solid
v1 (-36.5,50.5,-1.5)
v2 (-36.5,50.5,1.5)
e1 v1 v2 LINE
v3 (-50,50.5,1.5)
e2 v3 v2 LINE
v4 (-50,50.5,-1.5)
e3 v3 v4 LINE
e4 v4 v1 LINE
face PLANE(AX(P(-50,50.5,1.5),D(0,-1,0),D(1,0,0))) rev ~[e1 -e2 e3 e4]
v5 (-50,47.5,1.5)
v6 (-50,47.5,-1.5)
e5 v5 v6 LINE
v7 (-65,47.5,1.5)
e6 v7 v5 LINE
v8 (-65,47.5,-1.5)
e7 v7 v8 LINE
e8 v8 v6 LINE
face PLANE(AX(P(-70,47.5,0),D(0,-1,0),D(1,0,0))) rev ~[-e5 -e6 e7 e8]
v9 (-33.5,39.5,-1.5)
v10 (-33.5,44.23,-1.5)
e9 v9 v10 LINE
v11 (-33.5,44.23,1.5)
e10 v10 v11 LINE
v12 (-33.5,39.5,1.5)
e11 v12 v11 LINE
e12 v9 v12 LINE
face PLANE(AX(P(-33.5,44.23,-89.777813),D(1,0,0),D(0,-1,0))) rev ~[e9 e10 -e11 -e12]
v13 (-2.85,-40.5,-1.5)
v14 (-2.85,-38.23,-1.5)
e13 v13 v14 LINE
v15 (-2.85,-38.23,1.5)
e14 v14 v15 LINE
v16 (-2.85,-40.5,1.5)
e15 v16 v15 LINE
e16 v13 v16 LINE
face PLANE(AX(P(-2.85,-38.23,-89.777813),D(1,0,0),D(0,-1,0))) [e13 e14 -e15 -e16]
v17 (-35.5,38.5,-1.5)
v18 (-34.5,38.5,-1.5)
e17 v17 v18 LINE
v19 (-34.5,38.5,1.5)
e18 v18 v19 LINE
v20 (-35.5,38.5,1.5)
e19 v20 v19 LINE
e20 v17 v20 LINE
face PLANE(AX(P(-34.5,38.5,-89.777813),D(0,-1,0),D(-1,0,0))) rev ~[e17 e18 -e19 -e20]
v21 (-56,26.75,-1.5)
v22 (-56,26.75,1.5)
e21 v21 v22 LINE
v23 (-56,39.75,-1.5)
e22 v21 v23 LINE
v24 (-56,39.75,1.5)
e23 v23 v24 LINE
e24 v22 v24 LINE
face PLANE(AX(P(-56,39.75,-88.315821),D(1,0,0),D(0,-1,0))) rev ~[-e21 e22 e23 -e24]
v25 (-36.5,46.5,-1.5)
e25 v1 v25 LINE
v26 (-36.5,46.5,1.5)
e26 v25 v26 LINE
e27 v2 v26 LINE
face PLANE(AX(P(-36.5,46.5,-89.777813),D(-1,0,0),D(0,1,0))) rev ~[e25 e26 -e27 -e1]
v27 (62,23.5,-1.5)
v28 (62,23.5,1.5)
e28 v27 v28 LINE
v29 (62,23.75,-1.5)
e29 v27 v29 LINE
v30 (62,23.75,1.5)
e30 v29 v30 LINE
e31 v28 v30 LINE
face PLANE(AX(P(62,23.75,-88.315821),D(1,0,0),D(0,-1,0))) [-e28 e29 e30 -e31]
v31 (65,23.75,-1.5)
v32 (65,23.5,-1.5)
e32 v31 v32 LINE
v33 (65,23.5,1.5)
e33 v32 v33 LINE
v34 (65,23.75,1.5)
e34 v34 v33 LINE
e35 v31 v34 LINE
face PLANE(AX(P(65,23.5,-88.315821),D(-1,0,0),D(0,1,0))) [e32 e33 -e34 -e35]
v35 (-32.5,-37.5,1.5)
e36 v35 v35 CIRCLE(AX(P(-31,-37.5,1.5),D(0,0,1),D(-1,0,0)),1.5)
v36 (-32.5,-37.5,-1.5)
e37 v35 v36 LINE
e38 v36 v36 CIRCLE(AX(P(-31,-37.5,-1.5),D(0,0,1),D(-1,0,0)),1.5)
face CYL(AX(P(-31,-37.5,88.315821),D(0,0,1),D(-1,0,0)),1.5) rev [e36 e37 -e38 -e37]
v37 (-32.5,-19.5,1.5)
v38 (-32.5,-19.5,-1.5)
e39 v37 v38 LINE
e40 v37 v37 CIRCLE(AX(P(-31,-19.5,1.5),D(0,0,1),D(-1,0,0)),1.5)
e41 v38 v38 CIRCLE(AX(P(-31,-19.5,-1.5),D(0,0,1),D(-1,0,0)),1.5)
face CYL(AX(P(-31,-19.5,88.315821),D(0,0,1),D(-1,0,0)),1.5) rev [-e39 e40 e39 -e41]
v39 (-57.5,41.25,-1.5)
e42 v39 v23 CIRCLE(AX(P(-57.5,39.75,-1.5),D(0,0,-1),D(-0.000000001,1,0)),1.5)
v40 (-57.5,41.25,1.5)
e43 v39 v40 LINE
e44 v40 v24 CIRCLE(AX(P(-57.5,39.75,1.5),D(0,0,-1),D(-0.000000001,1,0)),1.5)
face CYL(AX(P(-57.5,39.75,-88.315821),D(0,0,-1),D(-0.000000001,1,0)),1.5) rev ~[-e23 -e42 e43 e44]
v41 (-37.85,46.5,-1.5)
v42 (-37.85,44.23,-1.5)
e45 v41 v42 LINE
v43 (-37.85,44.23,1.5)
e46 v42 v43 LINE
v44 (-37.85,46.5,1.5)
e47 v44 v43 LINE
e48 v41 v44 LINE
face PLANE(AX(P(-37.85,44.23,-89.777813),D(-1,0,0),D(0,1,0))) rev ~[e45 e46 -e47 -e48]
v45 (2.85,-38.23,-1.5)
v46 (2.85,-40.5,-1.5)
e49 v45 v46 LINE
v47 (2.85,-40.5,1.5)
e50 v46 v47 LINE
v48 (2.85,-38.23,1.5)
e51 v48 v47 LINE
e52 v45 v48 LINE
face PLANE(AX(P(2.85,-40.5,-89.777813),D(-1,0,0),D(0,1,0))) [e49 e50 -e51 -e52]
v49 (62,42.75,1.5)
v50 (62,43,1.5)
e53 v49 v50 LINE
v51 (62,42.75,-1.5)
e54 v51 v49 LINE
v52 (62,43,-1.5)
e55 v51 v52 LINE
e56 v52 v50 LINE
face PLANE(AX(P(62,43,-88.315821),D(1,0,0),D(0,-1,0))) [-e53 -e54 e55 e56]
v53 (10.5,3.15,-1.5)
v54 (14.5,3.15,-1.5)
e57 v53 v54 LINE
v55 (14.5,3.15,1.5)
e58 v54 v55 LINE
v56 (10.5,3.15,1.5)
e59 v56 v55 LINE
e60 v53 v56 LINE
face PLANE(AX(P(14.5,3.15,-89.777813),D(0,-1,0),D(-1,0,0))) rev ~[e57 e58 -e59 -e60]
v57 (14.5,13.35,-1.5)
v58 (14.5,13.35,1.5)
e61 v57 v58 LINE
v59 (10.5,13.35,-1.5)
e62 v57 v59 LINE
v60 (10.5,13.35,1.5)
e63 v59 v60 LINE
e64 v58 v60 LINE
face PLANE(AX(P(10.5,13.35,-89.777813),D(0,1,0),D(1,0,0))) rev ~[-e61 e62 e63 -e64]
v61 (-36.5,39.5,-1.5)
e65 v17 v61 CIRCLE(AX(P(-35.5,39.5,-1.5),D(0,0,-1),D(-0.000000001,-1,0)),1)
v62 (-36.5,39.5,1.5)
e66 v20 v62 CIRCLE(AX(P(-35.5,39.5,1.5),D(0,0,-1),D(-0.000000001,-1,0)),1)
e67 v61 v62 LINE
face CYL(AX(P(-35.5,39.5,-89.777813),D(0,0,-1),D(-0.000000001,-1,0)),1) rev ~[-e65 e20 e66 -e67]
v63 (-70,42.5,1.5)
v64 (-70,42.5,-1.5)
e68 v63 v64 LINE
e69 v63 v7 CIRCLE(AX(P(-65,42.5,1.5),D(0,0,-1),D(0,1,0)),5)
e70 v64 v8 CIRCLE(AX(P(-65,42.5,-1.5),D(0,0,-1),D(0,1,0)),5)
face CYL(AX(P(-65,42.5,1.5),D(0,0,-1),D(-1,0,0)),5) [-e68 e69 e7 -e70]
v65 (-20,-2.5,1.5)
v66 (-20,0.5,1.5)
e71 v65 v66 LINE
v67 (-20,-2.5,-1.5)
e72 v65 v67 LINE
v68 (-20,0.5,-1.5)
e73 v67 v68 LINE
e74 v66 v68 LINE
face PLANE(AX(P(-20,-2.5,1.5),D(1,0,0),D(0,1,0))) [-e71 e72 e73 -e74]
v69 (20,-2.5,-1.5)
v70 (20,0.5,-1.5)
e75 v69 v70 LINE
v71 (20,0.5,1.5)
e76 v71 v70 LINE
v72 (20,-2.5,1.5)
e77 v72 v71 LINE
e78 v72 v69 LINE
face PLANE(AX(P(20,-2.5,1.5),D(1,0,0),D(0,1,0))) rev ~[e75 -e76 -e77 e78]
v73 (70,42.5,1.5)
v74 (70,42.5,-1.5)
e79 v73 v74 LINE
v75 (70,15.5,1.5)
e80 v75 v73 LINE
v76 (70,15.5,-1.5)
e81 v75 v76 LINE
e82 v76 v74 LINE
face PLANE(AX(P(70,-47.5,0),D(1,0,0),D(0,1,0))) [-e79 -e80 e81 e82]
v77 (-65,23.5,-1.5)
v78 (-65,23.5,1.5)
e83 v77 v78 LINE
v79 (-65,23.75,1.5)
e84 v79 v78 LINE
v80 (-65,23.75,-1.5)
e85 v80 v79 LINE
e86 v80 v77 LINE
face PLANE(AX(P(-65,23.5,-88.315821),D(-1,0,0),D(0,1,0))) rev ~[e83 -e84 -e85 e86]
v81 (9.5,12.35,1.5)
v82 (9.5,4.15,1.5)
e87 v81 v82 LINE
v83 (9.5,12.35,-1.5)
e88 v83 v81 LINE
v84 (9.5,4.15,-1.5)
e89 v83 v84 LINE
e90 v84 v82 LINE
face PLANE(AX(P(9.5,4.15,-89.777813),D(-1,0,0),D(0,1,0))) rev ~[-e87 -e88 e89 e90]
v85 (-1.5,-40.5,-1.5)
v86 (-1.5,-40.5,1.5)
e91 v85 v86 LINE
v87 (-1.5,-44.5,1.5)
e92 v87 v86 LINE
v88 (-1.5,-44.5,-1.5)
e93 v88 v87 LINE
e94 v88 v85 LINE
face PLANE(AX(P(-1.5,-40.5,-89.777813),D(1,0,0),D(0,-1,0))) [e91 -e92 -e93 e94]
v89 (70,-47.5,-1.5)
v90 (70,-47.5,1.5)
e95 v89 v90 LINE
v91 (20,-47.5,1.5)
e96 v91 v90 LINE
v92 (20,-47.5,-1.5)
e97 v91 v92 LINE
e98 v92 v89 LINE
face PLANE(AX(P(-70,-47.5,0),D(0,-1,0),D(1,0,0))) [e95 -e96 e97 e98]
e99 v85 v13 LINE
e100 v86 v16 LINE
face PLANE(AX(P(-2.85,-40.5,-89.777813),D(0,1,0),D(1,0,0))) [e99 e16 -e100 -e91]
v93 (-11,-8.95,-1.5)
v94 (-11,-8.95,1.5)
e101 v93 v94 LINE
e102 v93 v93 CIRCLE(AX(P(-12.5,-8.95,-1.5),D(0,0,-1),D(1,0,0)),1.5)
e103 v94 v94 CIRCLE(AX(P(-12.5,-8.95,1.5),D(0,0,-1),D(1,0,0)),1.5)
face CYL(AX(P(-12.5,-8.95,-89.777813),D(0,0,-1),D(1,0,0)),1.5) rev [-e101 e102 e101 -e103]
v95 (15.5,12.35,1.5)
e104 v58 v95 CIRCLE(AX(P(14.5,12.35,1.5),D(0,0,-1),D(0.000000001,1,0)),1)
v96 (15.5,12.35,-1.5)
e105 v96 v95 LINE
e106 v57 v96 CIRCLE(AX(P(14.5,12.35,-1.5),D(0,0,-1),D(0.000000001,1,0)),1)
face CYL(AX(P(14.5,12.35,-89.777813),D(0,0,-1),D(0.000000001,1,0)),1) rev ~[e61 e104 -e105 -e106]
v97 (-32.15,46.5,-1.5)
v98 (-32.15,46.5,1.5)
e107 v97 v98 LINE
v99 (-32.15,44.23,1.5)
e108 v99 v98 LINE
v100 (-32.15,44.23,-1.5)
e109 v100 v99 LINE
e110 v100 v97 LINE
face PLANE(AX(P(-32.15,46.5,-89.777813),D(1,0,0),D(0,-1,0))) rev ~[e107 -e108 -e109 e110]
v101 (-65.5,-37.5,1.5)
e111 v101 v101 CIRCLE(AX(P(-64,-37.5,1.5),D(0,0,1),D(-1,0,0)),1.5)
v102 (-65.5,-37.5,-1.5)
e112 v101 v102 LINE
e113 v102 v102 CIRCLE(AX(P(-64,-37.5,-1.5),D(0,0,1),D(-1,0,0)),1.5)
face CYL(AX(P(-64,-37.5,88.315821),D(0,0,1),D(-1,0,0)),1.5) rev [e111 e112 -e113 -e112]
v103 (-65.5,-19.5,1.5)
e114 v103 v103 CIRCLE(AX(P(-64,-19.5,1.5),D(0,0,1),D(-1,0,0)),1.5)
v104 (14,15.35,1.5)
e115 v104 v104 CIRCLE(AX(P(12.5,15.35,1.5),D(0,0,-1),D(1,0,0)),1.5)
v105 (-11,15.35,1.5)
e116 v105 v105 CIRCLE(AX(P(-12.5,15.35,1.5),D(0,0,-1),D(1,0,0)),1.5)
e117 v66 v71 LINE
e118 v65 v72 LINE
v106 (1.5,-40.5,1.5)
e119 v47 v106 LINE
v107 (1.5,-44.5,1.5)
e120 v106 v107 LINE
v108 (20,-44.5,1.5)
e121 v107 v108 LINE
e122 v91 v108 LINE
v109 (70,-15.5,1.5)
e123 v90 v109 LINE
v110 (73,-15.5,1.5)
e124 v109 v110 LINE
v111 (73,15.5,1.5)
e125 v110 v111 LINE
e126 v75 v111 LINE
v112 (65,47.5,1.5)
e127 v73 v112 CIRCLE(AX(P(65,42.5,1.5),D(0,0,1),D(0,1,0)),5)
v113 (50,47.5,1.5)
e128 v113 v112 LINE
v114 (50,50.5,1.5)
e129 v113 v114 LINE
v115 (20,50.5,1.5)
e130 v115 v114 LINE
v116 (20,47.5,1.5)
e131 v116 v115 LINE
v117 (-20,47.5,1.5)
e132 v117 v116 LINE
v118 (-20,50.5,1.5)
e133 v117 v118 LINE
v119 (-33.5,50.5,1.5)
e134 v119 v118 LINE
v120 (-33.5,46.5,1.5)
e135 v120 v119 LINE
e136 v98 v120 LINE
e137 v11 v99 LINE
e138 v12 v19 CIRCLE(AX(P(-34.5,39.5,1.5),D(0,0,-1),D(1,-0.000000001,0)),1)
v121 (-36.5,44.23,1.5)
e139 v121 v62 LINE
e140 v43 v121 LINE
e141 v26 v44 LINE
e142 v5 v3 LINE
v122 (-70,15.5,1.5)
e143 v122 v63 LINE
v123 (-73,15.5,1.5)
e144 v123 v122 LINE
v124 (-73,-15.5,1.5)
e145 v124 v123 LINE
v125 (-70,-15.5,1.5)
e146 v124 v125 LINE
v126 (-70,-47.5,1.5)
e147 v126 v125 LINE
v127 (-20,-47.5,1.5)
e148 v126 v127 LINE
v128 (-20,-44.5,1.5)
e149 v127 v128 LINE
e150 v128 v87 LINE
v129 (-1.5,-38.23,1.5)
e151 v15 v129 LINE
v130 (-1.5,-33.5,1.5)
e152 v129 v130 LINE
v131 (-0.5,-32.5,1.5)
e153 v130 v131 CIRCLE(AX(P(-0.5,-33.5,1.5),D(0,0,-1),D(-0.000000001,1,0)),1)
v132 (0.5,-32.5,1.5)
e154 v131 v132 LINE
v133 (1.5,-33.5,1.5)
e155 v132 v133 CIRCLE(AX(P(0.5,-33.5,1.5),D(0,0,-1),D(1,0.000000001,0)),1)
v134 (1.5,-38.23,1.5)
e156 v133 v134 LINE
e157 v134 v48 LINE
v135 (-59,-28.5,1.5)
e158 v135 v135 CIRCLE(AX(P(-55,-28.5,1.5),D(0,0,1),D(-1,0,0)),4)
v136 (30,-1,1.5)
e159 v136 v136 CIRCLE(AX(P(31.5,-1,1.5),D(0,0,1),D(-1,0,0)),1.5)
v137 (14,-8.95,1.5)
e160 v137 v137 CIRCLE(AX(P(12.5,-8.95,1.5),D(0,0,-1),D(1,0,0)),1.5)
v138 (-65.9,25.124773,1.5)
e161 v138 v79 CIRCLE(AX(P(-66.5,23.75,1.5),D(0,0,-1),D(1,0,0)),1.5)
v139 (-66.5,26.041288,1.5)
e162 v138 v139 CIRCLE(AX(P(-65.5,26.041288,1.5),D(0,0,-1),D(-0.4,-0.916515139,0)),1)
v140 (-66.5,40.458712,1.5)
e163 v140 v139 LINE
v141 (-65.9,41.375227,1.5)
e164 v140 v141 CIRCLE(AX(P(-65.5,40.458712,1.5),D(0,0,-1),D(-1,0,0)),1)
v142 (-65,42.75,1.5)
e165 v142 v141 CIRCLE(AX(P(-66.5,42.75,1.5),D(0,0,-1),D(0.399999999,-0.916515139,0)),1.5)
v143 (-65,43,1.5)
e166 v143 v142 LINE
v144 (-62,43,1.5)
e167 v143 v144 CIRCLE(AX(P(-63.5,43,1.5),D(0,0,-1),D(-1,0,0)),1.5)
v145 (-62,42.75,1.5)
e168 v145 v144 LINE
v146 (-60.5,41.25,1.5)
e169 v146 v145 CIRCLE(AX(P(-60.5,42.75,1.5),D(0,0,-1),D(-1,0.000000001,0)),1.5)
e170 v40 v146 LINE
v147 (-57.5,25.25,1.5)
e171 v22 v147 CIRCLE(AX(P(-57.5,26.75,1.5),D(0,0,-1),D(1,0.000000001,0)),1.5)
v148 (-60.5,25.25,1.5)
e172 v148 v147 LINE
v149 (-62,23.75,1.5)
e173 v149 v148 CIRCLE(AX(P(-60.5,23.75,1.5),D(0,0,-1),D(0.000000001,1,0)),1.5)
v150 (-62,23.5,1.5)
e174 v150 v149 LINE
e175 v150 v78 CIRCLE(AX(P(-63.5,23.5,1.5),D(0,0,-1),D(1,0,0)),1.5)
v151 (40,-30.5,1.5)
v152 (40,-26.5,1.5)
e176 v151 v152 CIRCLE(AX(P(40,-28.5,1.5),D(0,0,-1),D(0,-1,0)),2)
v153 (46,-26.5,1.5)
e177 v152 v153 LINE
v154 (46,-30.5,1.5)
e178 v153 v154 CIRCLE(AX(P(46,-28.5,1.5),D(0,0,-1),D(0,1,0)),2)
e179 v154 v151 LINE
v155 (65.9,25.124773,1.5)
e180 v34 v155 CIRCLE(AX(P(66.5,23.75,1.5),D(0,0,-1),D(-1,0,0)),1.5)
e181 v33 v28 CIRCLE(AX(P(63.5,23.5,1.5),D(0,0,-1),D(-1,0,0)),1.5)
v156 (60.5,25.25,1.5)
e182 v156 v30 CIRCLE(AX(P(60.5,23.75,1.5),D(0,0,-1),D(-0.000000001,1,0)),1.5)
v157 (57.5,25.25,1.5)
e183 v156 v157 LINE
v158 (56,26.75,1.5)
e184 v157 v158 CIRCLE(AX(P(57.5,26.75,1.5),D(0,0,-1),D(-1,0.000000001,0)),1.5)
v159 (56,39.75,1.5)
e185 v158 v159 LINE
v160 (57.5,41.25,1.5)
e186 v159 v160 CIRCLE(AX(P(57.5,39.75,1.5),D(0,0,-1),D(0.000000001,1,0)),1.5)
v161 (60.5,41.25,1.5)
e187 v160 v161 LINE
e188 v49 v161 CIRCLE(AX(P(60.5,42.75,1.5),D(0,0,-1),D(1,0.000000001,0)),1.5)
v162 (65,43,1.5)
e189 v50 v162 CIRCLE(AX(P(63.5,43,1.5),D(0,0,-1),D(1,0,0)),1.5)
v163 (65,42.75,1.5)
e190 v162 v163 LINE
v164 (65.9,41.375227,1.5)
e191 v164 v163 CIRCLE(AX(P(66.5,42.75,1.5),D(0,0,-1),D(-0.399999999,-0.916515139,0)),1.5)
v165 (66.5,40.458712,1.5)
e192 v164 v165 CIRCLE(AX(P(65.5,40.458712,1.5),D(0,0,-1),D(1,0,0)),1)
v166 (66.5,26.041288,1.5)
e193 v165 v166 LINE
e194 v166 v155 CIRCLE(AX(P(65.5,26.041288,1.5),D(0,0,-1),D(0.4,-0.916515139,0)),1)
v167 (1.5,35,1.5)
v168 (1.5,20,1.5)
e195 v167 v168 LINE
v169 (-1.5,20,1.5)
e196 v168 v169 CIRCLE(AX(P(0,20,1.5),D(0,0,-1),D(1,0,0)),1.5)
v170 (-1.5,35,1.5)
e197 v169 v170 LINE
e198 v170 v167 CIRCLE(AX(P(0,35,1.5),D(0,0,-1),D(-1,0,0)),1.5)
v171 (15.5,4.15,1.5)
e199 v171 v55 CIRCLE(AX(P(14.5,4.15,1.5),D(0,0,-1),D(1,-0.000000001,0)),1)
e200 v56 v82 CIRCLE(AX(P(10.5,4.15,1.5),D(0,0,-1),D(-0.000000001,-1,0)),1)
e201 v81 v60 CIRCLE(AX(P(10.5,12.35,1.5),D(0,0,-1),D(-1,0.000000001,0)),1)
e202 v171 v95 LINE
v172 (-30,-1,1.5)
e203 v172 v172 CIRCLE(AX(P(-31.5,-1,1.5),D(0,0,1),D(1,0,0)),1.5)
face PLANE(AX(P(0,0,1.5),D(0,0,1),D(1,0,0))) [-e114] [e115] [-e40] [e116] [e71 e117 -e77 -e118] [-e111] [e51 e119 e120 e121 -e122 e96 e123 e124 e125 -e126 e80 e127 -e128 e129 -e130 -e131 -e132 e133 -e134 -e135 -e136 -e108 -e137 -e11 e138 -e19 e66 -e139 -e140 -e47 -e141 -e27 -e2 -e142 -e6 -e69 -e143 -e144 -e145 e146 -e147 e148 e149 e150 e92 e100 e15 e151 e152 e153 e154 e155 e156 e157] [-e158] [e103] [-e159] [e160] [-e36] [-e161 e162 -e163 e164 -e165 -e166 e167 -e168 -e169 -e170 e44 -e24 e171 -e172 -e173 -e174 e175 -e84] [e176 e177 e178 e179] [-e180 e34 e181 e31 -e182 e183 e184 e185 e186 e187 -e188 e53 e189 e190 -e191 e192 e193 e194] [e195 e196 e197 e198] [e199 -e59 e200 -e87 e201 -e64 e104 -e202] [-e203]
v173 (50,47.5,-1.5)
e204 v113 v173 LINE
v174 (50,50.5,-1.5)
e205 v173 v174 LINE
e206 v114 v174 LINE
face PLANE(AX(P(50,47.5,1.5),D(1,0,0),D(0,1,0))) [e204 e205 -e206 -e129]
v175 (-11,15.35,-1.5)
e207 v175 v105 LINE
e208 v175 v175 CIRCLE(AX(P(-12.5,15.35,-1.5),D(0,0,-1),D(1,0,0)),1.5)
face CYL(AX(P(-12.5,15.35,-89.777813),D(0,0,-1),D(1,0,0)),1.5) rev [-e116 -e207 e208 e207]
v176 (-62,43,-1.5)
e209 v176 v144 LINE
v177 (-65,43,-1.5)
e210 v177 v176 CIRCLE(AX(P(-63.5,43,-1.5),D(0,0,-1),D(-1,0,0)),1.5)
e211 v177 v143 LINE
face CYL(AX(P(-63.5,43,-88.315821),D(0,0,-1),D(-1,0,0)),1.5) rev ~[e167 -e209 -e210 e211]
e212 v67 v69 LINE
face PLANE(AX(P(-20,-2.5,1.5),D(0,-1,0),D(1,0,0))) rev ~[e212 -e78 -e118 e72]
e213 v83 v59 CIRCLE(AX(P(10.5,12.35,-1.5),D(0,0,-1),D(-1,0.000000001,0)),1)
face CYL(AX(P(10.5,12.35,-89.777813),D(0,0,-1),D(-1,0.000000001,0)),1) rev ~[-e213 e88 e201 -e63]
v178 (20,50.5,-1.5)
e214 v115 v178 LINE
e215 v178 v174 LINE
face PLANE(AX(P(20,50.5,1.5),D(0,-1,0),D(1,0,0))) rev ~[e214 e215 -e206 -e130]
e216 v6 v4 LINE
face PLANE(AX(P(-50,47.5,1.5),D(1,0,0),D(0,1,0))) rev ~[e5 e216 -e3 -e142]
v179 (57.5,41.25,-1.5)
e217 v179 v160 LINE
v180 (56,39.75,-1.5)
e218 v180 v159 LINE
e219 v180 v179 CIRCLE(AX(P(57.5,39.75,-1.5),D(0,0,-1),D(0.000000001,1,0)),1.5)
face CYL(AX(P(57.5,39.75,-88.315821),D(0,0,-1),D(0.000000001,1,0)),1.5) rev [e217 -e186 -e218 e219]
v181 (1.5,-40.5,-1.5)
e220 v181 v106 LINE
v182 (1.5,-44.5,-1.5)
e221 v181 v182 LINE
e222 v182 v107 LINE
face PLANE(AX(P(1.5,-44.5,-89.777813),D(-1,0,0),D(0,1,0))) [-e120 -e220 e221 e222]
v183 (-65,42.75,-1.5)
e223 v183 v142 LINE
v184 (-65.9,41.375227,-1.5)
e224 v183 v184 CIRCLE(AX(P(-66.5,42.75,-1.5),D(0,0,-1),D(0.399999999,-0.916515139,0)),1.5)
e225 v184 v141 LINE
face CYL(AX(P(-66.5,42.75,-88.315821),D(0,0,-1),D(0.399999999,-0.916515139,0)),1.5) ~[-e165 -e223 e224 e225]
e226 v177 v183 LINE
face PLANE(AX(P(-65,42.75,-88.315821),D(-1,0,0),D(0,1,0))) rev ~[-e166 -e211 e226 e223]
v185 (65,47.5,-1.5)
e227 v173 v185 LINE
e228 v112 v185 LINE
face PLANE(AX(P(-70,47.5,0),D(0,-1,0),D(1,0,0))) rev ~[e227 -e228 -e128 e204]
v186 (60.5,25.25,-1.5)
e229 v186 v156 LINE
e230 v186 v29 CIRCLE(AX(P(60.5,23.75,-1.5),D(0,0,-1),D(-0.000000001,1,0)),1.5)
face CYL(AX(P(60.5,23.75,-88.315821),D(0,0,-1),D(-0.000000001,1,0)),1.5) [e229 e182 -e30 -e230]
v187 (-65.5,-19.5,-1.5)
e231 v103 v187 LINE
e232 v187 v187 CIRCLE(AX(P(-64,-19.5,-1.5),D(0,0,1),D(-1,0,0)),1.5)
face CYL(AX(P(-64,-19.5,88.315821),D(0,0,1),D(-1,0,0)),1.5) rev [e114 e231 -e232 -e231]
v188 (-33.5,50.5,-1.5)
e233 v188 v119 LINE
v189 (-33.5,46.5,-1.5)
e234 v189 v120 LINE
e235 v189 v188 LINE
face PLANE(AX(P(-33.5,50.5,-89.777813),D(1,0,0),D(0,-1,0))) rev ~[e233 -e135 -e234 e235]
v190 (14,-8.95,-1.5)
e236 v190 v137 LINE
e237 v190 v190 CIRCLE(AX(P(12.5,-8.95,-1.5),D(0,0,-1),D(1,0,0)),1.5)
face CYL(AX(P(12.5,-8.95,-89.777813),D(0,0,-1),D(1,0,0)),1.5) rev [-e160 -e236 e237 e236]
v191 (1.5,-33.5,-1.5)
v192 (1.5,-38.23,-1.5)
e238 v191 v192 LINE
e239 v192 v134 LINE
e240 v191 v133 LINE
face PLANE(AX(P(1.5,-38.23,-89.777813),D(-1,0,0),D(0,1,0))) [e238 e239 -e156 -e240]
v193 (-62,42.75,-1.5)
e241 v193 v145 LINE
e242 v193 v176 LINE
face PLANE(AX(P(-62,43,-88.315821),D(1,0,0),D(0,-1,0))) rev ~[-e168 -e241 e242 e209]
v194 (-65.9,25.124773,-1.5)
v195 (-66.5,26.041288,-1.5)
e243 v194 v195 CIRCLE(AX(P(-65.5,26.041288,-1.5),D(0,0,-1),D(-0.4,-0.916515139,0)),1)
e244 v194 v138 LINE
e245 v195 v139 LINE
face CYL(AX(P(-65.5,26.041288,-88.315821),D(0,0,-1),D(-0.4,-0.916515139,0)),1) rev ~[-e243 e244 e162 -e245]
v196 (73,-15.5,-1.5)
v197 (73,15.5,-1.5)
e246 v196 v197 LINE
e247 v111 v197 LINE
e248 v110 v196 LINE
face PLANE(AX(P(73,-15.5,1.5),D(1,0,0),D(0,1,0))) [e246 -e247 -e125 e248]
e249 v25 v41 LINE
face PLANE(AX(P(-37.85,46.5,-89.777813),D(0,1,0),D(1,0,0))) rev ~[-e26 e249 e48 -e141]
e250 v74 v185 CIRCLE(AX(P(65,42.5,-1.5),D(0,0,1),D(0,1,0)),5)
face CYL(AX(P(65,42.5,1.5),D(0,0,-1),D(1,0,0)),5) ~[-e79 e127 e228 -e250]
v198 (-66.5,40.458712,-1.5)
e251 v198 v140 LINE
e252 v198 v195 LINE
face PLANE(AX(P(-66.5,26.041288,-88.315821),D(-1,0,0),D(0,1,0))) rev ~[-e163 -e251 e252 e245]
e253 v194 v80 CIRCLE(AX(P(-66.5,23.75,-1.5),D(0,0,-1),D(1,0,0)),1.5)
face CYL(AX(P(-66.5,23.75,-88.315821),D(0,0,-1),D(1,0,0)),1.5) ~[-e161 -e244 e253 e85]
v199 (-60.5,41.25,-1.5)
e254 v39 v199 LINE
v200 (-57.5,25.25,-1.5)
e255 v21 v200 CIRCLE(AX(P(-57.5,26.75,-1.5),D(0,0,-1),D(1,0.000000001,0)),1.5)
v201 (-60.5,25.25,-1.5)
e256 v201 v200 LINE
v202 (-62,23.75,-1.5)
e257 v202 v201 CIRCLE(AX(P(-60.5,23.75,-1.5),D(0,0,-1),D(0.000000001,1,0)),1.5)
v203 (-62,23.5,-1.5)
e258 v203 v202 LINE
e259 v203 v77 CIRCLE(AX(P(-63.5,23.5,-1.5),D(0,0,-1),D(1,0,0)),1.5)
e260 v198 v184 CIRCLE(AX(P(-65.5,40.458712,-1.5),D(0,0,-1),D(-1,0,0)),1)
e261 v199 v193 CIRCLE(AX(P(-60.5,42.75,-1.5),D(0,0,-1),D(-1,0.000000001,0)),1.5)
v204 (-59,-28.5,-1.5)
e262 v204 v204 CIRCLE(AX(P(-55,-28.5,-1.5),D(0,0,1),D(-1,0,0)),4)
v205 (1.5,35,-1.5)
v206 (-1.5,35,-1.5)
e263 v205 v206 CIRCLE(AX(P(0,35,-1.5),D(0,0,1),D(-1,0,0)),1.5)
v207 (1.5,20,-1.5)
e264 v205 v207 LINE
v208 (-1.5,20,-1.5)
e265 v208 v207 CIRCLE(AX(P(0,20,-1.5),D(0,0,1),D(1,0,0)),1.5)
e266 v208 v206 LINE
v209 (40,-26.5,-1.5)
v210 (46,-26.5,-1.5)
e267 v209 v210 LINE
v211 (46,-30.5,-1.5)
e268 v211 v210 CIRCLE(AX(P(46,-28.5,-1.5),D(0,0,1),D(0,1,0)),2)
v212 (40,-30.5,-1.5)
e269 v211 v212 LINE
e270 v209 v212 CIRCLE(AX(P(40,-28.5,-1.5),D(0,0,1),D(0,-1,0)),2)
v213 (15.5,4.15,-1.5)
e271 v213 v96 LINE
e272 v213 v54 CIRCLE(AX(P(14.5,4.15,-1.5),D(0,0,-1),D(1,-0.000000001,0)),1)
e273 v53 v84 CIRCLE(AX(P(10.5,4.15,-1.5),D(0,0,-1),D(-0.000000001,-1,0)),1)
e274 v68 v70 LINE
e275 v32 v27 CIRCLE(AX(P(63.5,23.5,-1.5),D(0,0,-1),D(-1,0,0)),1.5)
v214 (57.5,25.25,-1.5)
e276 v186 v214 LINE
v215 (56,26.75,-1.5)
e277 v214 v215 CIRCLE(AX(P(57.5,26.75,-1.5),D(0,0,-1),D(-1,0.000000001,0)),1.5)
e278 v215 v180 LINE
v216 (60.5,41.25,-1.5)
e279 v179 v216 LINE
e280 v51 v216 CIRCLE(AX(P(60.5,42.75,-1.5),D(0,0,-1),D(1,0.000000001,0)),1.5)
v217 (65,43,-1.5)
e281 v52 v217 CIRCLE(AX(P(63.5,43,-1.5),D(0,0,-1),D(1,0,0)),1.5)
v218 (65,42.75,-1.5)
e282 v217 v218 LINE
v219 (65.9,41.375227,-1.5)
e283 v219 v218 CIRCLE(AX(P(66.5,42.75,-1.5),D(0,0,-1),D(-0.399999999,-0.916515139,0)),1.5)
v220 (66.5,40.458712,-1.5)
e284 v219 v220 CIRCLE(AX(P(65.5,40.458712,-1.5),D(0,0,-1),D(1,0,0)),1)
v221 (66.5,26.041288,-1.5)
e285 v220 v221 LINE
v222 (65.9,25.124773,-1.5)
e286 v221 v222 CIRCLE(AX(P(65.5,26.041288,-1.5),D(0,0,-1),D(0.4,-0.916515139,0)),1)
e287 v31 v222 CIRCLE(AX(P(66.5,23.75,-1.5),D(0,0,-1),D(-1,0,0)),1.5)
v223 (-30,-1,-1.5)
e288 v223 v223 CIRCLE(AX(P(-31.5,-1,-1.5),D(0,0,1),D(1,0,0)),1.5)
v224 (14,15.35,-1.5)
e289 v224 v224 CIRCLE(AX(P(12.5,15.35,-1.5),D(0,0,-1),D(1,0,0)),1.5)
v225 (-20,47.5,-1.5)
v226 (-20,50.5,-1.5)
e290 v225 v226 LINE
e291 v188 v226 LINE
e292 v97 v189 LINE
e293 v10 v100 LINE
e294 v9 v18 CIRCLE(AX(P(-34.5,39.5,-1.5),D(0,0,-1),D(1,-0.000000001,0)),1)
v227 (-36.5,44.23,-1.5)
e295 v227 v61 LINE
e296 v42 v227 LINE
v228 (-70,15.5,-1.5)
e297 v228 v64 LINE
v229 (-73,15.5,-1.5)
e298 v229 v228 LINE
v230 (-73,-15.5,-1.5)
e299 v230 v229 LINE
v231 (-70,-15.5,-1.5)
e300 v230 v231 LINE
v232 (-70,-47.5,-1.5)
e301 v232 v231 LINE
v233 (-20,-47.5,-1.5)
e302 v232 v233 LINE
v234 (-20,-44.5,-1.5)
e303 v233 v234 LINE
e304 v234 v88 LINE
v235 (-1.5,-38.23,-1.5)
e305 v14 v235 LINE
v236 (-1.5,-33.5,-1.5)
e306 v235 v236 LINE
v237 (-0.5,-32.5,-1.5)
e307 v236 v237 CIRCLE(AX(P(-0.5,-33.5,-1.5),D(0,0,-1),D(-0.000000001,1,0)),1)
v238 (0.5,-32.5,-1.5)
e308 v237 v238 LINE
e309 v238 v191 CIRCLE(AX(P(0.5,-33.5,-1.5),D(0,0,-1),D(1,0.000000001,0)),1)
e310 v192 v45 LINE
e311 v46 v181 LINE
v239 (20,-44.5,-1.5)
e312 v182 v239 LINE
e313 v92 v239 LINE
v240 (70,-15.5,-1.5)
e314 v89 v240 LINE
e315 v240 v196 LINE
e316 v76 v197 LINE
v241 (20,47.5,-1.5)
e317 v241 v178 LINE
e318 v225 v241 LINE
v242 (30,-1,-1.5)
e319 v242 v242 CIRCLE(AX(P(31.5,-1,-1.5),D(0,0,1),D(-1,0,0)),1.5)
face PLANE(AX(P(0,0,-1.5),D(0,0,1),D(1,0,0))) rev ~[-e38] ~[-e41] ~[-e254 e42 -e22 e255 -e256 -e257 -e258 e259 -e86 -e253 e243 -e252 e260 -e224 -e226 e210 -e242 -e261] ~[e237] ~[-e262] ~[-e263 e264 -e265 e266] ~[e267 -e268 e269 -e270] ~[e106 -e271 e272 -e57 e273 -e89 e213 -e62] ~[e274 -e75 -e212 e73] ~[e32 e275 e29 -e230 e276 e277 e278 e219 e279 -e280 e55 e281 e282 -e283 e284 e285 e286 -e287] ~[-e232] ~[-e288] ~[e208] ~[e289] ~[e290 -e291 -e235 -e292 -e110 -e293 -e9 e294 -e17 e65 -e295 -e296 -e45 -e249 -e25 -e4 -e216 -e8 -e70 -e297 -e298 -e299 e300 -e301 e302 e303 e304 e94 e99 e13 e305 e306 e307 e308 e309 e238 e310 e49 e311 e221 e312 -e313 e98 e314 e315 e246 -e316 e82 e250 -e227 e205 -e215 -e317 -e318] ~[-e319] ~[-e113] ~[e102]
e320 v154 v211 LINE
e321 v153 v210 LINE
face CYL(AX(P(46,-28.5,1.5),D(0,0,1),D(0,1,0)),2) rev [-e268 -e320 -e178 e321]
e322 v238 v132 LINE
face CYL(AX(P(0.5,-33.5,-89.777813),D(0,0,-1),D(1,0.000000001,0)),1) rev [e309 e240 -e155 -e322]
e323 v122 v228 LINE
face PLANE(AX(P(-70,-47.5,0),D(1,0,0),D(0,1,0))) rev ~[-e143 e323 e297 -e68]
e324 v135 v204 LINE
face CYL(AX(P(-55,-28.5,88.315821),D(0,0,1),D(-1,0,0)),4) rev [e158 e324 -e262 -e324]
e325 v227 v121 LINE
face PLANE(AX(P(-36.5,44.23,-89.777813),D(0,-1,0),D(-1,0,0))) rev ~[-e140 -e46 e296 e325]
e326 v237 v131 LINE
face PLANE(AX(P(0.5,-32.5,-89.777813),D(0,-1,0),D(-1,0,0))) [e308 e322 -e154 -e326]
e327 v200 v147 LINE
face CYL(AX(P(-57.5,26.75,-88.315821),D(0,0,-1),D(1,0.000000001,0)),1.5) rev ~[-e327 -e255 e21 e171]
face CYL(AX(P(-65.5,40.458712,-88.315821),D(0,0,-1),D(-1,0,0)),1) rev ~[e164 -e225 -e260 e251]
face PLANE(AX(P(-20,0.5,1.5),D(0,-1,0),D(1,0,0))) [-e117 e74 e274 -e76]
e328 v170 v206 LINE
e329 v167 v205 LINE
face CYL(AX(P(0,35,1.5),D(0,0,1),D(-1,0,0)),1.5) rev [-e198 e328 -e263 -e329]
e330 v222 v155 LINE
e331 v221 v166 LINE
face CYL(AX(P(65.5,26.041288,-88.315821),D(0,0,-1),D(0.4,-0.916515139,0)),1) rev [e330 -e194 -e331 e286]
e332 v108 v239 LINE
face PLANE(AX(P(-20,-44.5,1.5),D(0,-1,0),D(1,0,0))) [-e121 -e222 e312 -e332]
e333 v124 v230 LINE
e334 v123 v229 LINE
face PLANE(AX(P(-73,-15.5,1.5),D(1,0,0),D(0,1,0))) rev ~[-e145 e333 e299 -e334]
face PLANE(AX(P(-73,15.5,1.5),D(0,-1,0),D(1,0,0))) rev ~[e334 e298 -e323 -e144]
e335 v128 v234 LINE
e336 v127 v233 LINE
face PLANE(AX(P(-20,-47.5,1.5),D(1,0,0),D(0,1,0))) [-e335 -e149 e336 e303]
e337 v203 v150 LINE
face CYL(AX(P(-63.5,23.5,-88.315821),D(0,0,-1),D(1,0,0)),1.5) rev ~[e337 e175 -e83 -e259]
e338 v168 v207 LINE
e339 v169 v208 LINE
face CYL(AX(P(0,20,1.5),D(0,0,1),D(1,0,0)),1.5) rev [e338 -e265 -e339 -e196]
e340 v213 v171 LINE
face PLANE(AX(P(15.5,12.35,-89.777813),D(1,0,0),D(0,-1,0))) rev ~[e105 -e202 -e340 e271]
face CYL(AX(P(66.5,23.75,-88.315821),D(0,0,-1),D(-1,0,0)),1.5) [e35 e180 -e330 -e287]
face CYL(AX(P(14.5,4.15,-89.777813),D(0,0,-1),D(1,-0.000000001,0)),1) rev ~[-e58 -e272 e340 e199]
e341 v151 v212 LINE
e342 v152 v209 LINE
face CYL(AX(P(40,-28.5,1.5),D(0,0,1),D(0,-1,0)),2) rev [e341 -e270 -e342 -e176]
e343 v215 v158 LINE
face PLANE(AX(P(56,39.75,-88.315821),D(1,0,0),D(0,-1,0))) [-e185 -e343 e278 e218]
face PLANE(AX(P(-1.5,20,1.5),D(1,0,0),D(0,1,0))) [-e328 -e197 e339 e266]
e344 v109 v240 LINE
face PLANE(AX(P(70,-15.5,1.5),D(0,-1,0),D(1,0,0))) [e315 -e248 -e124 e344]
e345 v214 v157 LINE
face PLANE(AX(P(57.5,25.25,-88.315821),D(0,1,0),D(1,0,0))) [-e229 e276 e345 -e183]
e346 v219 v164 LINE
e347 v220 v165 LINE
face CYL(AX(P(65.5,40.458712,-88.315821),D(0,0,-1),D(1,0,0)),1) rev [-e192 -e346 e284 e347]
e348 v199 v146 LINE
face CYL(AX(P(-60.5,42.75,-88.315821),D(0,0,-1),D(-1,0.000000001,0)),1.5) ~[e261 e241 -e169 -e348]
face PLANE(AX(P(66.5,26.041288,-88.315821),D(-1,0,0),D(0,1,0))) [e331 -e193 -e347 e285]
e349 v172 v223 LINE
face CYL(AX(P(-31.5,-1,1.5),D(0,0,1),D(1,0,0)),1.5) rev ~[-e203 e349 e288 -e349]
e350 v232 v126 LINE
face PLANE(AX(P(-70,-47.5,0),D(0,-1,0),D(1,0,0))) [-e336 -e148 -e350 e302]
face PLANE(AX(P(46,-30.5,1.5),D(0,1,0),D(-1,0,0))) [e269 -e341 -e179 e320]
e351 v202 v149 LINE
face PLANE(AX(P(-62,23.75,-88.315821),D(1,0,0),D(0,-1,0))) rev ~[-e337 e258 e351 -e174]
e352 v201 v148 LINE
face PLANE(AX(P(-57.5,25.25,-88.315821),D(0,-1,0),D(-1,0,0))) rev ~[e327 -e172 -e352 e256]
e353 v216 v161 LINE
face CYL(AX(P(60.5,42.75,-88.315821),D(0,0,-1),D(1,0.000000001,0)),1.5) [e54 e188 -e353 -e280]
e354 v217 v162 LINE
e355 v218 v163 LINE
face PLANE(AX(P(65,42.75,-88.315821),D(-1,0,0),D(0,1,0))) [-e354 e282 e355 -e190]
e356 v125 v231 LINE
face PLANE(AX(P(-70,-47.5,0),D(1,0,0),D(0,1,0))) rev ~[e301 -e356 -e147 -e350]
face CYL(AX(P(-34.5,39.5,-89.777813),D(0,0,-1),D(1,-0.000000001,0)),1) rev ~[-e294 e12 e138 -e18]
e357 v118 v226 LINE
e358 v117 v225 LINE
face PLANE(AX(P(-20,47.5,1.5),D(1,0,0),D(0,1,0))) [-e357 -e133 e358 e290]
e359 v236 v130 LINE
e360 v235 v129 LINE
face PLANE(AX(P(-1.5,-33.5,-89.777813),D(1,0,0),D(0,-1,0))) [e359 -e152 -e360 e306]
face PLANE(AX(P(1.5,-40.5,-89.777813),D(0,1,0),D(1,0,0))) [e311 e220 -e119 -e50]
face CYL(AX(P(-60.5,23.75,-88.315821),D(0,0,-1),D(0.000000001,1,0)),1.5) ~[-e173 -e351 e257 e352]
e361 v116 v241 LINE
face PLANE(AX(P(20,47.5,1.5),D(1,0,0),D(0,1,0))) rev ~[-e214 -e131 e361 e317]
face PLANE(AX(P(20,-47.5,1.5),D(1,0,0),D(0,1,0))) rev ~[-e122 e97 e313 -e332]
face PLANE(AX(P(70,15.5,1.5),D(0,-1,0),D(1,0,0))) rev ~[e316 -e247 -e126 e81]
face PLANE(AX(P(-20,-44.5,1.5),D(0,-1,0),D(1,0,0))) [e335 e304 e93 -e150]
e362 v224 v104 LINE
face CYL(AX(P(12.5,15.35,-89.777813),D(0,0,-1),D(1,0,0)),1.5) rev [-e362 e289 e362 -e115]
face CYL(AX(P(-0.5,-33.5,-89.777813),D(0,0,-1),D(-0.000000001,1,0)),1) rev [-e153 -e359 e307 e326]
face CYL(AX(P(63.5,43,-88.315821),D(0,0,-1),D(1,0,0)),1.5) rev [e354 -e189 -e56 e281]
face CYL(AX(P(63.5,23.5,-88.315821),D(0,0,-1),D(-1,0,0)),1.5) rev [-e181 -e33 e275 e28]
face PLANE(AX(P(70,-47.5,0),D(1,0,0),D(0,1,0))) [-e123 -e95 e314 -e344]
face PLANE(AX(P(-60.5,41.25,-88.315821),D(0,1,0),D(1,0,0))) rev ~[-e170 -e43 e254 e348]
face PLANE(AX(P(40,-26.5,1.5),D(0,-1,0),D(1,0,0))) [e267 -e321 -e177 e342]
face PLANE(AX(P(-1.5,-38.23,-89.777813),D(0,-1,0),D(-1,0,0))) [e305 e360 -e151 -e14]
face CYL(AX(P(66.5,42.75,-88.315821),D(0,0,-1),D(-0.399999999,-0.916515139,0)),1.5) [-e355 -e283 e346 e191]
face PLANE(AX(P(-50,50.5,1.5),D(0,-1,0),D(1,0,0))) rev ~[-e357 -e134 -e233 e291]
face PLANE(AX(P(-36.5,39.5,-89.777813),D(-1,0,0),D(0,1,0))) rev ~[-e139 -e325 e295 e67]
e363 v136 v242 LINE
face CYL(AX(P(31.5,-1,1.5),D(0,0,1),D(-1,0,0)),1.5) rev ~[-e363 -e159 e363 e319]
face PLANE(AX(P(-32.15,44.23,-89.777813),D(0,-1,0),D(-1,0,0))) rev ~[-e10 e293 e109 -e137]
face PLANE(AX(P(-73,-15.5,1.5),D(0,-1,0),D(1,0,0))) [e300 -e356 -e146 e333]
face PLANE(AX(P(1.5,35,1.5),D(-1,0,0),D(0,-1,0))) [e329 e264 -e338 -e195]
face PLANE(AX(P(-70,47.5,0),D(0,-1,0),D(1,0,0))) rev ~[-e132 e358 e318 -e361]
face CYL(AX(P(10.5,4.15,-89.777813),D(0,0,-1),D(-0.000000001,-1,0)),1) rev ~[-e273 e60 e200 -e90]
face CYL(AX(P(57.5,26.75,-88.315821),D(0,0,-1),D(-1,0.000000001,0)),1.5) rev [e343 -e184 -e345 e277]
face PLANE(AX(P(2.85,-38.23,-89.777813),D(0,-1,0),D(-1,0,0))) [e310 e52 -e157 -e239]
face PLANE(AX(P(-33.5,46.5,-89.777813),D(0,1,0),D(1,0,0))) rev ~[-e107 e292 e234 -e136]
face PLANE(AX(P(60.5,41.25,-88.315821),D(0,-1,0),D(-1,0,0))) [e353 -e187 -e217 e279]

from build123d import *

# Parameters (mm, degrees)
ESBO_O1_W                   = 140
ESBO_O1_H                   = 95
RESSALTO_EXTRUS_O1_DEPTH    = 1.5
ESBO_O2_R                   = 1.5
ESBO_O2_W                   = 40
ESBO_O2_H                   = 3
CORTE_EXTRUS_O1_DEPTH       = 85.647799735
ESBO_O3_W                   = 3
ESBO_O3_H                   = 31
ESBO_O3_W_2                 = 30
ESBO_O3_H_2                 = 3
RESSALTO_EXTRUS_O2_DEPTH    = 3
CORTE_EXTRUS_O11_DEPTH      = 89.815820663
CORTE_EXTRUS_O11_DEPTH_BACK = 89.815820663
ESBO_O30_R                  = 4
CORTE_EXTRUS_O12_DEPTH      = 89.815820663
CORTE_EXTRUS_O12_DEPTH_BACK = 89.815820663
ESBO_O31_R                  = 1.5
CORTE_EXTRUS_O2_DEPTH       = 89.815820663
CUT_EXTRUDE2_DEPTH          = 89.777812543
CUT_EXTRUDE2_DEPTH_BACK     = 89.777812543
CUT_EXTRUDE6_DEPTH          = 89.815820663
CUT_EXTRUDE6_DEPTH_BACK     = 89.815820663
CUT_EXTRUDE8_DEPTH          = 89.777812543
CUT_EXTRUDE8_DEPTH_BACK     = 89.777812543
CUT_EXTRUDE9_DEPTH          = 89.815820663
CUT_EXTRUDE12_DEPTH         = 89.777812543
CUT_EXTRUDE12_DEPTH_BACK    = 89.777812543
SKETCH16_R                  = 1.5
FILLET1_R                   = 5


with BuildPart() as part:
    # Esboço1 → Ressalto-extrusão1 (new, symmetric)
    with BuildSketch(Plane.XY):
        Rectangle(ESBO_O1_W, ESBO_O1_H)
    extrude(amount=RESSALTO_EXTRUS_O1_DEPTH, both=True)

    # Esboço2 → Corte-extrusão1 (cut, through all)
    with BuildSketch(Plane.XY.offset(1.5)):
        with Locations((-31.5, -1)):
            Circle(ESBO_O2_R)
        with Locations(Location((31.5, -1, 0), (0, 0, 180))):
            Circle(ESBO_O2_R)
        with Locations((0, -46)):
            Rectangle(ESBO_O2_W, ESBO_O2_H)
        with Locations((0, -1)):
            Rectangle(ESBO_O2_W, ESBO_O2_H)
    extrude(amount=-CORTE_EXTRUS_O1_DEPTH, mode=Mode.SUBTRACT)

    # Esboço3 → Ressalto-extrusão2 (add, through all)
    with BuildSketch(Plane.XY.offset(1.5)):
        with Locations((71.5, 0)):
            Rectangle(ESBO_O3_W, ESBO_O3_H)
        with Locations((-71.5, 0)):
            Rectangle(ESBO_O3_W, ESBO_O3_H)
        with Locations((-35, 49)):
            Rectangle(ESBO_O3_W_2, ESBO_O3_H_2)
        with Locations((35, 49)):
            Rectangle(ESBO_O3_W_2, ESBO_O3_H_2)
    extrude(amount=-RESSALTO_EXTRUS_O2_DEPTH)

    # Esboço30 → Corte-extrusão11 (cut, two sides: drawn at the far end of the back side and taken through both)
    with BuildSketch(Plane(origin=(0, 0, -1.5), x_dir=(-1, 0, 0), z_dir=(0, 0, -1)).offset(-CORTE_EXTRUS_O11_DEPTH_BACK)):
        with Locations((55, -28.5)):
            Circle(ESBO_O30_R)
    extrude(amount=CORTE_EXTRUS_O11_DEPTH + CORTE_EXTRUS_O11_DEPTH_BACK, mode=Mode.SUBTRACT)

    # Esboço31 → Corte-extrusão12 (cut, two sides: drawn at the far end of the back side and taken through both)
    with BuildSketch(Plane(origin=(0, 0, -1.5), x_dir=(-1, 0, 0), z_dir=(0, 0, -1)).offset(-CORTE_EXTRUS_O12_DEPTH_BACK)):
        with Locations((64, -19.5)):
            Circle(ESBO_O31_R)
        with Locations((64, -37.5)):
            Circle(ESBO_O31_R)
        with Locations((31, -19.5)):
            Circle(ESBO_O31_R)
        with Locations((31, -37.5)):
            Circle(ESBO_O31_R)
    extrude(amount=CORTE_EXTRUS_O12_DEPTH + CORTE_EXTRUS_O12_DEPTH_BACK, mode=Mode.SUBTRACT)

    # Esboço4 → Corte-extrusão2 (cut, through all)
    with BuildSketch(Plane.XY.offset(1.5)):
        with BuildLine():
            Line((40, -26.5), (46, -26.5))
            ThreePointArc((46, -26.5), (48, -28.5), (46, -30.5))
            Line((46, -30.5), (40, -30.5))
            ThreePointArc((40, -30.5), (38, -28.5), (40, -26.5))
        make_face()
    extrude(amount=-CORTE_EXTRUS_O2_DEPTH, mode=Mode.SUBTRACT)

    # Sketch5 → Cut-Extrude2 (cut, two sides: drawn at the far end of the back side and taken through both)
    with BuildSketch(Plane.XY.offset(-CUT_EXTRUDE2_DEPTH_BACK)):
        with BuildLine():
            Line((-1.5, -44.5), (1.5, -44.5))
            Line((1.5, -44.5), (1.5, -40.5))
            Line((1.5, -40.5), (2.85, -40.5))
            Line((2.85, -40.5), (2.85, -38.23))
            Line((2.85, -38.23), (1.5, -38.23))
            Line((1.5, -38.23), (1.5, -33.5))
            ThreePointArc((1.5, -33.5), (1.207106781, -32.792893219), (0.5, -32.5))
            Line((0.5, -32.5), (-0.5, -32.5))
            ThreePointArc((-0.5, -32.5), (-1.207106781, -32.792893219), (-1.5, -33.5))
            Line((-1.5, -33.5), (-1.5, -38.23))
            Line((-1.5, -38.23), (-2.85, -38.23))
            Line((-2.85, -38.23), (-2.85, -40.5))
            Line((-2.85, -40.5), (-1.5, -40.5))
            Line((-1.5, -40.5), (-1.5, -44.5))
        make_face()
    extrude(amount=CUT_EXTRUDE2_DEPTH + CUT_EXTRUDE2_DEPTH_BACK, mode=Mode.SUBTRACT)

    # Sketch8 → Cut-Extrude6 (cut, two sides: drawn at the far end of the back side and taken through both)
    with BuildSketch(Plane.XY.offset(1.5).offset(-CUT_EXTRUDE6_DEPTH_BACK)):
        with BuildLine():
            Line((-56, 39.75), (-56, 26.75))
            ThreePointArc((-56, 26.75), (-56.439339828, 25.689339828), (-57.5, 25.25))
            Line((-57.5, 25.25), (-60.5, 25.25))
            ThreePointArc((-60.5, 25.25), (-61.560660172, 24.810660172), (-62, 23.75))
            Line((-62, 23.75), (-62, 23.5))
            ThreePointArc((-62, 23.5), (-63.5, 22), (-65, 23.5))
            Line((-65, 23.5), (-65, 23.75))
            ThreePointArc((-65, 23.75), (-65.24500996, 24.571583836), (-65.9, 25.124772708))
            ThreePointArc((-65.9, 25.124772708), (-66.336660027, 25.49356529), (-66.5, 26.041287847))
            Line((-66.5, 26.041287847), (-66.5, 40.458712153))
            ThreePointArc((-66.5, 40.458712153), (-66.336660027, 41.00643471), (-65.9, 41.375227292))
            ThreePointArc((-65.9, 41.375227292), (-65.24500996, 41.928416164), (-65, 42.75))
            Line((-65, 42.75), (-65, 43))
            ThreePointArc((-65, 43), (-63.5, 44.5), (-62, 43))
            Line((-62, 43), (-62, 42.75))
            ThreePointArc((-62, 42.75), (-61.560660172, 41.689339828), (-60.5, 41.25))
            Line((-60.5, 41.25), (-57.5, 41.25))
            ThreePointArc((-57.5, 41.25), (-56.439339828, 40.810660172), (-56, 39.75))
        make_face()
        with BuildLine():
            Line((56, 39.75), (56, 26.75))
            ThreePointArc((56, 26.75), (56.439339828, 25.689339828), (57.5, 25.25))
            Line((57.5, 25.25), (60.5, 25.25))
            ThreePointArc((60.5, 25.25), (61.560660172, 24.810660172), (62, 23.75))
            Line((62, 23.75), (62, 23.5))
            ThreePointArc((62, 23.5), (63.5, 22), (65, 23.5))
            Line((65, 23.5), (65, 23.75))
            ThreePointArc((65, 23.75), (65.24500996, 24.571583836), (65.9, 25.124772708))
            ThreePointArc((65.9, 25.124772708), (66.336660027, 25.49356529), (66.5, 26.041287847))
            Line((66.5, 26.041287847), (66.5, 40.458712153))
            ThreePointArc((66.5, 40.458712153), (66.336660027, 41.00643471), (65.9, 41.375227292))
            ThreePointArc((65.9, 41.375227292), (65.24500996, 41.928416164), (65, 42.75))
            Line((65, 42.75), (65, 43))
            ThreePointArc((65, 43), (63.5, 44.5), (62, 43))
            Line((62, 43), (62, 42.75))
            ThreePointArc((62, 42.75), (61.560660172, 41.689339828), (60.5, 41.25))
            Line((60.5, 41.25), (57.5, 41.25))
            ThreePointArc((57.5, 41.25), (56.439339828, 40.810660172), (56, 39.75))
        make_face()
    extrude(amount=CUT_EXTRUDE6_DEPTH + CUT_EXTRUDE6_DEPTH_BACK, mode=Mode.SUBTRACT)

    # Sketch11 → Cut-Extrude8 (cut, two sides: drawn at the far end of the back side and taken through both)
    with BuildSketch(Plane.XY.offset(-CUT_EXTRUDE8_DEPTH_BACK)):
        with BuildLine():
            Line((-36.5, 50.5), (-33.5, 50.5))
            Line((-33.5, 50.5), (-33.5, 46.5))
            Line((-33.5, 46.5), (-32.15, 46.5))
            Line((-32.15, 46.5), (-32.15, 44.23))
            Line((-32.15, 44.23), (-33.5, 44.23))
            Line((-33.5, 44.23), (-33.5, 39.5))
            ThreePointArc((-33.5, 39.5), (-33.792893219, 38.792893219), (-34.5, 38.5))
            Line((-34.5, 38.5), (-35.5, 38.5))
            ThreePointArc((-35.5, 38.5), (-36.207106781, 38.792893219), (-36.5, 39.5))
            Line((-36.5, 39.5), (-36.5, 44.23))
            Line((-36.5, 44.23), (-37.85, 44.23))
            Line((-37.85, 44.23), (-37.85, 46.5))
            Line((-37.85, 46.5), (-36.5, 46.5))
            Line((-36.5, 46.5), (-36.5, 50.5))
        make_face()
    extrude(amount=CUT_EXTRUDE8_DEPTH + CUT_EXTRUDE8_DEPTH_BACK, mode=Mode.SUBTRACT)

    # Sketch12 → Cut-Extrude9 (cut, through all)
    with BuildSketch(Plane.XY.offset(1.5)):
        with BuildLine():
            Line((-1.5, 20), (-1.5, 35))
            ThreePointArc((-1.5, 35), (0, 36.5), (1.5, 35))
            Line((1.5, 35), (1.5, 20))
            ThreePointArc((1.5, 20), (0, 18.5), (-1.5, 20))
        make_face()
    extrude(amount=-CUT_EXTRUDE9_DEPTH, mode=Mode.SUBTRACT)

    # Sketch16 → Cut-Extrude12 (cut, two sides: drawn at the far end of the back side and taken through both)
    with BuildSketch(Plane.XY.offset(-CUT_EXTRUDE12_DEPTH_BACK)):
        with Locations((-12.5, 15.35)):
            Circle(SKETCH16_R)
        with Locations((12.5, 15.35)):
            Circle(SKETCH16_R)
        with Locations((-12.5, -8.95)):
            Circle(SKETCH16_R)
        with Locations((12.5, -8.95)):
            Circle(SKETCH16_R)
        with BuildLine():
            Line((10.5, 13.35), (14.5, 13.35))
            ThreePointArc((14.5, 13.35), (15.207106781, 13.057106781), (15.5, 12.35))
            Line((15.5, 12.35), (15.5, 4.15))
            ThreePointArc((15.5, 4.15), (15.207106781, 3.442893219), (14.5, 3.15))
            Line((14.5, 3.15), (10.5, 3.15))
            ThreePointArc((10.5, 3.15), (9.792893219, 3.442893219), (9.5, 4.15))
            Line((9.5, 4.15), (9.5, 12.35))
            ThreePointArc((9.5, 12.35), (9.792893219, 13.057106781), (10.5, 13.35))
        make_face()
    extrude(amount=CUT_EXTRUDE12_DEPTH + CUT_EXTRUDE12_DEPTH_BACK, mode=Mode.SUBTRACT)

    # Fillet1
    fillet1_edges = [part.edges().sort_by_distance(p)[0] for p in [
        (-70, 47.5, 0),
        (70, 47.5, 0),
    ]]
    fillet(fillet1_edges, radius=FILLET1_R)


solid = part.part
